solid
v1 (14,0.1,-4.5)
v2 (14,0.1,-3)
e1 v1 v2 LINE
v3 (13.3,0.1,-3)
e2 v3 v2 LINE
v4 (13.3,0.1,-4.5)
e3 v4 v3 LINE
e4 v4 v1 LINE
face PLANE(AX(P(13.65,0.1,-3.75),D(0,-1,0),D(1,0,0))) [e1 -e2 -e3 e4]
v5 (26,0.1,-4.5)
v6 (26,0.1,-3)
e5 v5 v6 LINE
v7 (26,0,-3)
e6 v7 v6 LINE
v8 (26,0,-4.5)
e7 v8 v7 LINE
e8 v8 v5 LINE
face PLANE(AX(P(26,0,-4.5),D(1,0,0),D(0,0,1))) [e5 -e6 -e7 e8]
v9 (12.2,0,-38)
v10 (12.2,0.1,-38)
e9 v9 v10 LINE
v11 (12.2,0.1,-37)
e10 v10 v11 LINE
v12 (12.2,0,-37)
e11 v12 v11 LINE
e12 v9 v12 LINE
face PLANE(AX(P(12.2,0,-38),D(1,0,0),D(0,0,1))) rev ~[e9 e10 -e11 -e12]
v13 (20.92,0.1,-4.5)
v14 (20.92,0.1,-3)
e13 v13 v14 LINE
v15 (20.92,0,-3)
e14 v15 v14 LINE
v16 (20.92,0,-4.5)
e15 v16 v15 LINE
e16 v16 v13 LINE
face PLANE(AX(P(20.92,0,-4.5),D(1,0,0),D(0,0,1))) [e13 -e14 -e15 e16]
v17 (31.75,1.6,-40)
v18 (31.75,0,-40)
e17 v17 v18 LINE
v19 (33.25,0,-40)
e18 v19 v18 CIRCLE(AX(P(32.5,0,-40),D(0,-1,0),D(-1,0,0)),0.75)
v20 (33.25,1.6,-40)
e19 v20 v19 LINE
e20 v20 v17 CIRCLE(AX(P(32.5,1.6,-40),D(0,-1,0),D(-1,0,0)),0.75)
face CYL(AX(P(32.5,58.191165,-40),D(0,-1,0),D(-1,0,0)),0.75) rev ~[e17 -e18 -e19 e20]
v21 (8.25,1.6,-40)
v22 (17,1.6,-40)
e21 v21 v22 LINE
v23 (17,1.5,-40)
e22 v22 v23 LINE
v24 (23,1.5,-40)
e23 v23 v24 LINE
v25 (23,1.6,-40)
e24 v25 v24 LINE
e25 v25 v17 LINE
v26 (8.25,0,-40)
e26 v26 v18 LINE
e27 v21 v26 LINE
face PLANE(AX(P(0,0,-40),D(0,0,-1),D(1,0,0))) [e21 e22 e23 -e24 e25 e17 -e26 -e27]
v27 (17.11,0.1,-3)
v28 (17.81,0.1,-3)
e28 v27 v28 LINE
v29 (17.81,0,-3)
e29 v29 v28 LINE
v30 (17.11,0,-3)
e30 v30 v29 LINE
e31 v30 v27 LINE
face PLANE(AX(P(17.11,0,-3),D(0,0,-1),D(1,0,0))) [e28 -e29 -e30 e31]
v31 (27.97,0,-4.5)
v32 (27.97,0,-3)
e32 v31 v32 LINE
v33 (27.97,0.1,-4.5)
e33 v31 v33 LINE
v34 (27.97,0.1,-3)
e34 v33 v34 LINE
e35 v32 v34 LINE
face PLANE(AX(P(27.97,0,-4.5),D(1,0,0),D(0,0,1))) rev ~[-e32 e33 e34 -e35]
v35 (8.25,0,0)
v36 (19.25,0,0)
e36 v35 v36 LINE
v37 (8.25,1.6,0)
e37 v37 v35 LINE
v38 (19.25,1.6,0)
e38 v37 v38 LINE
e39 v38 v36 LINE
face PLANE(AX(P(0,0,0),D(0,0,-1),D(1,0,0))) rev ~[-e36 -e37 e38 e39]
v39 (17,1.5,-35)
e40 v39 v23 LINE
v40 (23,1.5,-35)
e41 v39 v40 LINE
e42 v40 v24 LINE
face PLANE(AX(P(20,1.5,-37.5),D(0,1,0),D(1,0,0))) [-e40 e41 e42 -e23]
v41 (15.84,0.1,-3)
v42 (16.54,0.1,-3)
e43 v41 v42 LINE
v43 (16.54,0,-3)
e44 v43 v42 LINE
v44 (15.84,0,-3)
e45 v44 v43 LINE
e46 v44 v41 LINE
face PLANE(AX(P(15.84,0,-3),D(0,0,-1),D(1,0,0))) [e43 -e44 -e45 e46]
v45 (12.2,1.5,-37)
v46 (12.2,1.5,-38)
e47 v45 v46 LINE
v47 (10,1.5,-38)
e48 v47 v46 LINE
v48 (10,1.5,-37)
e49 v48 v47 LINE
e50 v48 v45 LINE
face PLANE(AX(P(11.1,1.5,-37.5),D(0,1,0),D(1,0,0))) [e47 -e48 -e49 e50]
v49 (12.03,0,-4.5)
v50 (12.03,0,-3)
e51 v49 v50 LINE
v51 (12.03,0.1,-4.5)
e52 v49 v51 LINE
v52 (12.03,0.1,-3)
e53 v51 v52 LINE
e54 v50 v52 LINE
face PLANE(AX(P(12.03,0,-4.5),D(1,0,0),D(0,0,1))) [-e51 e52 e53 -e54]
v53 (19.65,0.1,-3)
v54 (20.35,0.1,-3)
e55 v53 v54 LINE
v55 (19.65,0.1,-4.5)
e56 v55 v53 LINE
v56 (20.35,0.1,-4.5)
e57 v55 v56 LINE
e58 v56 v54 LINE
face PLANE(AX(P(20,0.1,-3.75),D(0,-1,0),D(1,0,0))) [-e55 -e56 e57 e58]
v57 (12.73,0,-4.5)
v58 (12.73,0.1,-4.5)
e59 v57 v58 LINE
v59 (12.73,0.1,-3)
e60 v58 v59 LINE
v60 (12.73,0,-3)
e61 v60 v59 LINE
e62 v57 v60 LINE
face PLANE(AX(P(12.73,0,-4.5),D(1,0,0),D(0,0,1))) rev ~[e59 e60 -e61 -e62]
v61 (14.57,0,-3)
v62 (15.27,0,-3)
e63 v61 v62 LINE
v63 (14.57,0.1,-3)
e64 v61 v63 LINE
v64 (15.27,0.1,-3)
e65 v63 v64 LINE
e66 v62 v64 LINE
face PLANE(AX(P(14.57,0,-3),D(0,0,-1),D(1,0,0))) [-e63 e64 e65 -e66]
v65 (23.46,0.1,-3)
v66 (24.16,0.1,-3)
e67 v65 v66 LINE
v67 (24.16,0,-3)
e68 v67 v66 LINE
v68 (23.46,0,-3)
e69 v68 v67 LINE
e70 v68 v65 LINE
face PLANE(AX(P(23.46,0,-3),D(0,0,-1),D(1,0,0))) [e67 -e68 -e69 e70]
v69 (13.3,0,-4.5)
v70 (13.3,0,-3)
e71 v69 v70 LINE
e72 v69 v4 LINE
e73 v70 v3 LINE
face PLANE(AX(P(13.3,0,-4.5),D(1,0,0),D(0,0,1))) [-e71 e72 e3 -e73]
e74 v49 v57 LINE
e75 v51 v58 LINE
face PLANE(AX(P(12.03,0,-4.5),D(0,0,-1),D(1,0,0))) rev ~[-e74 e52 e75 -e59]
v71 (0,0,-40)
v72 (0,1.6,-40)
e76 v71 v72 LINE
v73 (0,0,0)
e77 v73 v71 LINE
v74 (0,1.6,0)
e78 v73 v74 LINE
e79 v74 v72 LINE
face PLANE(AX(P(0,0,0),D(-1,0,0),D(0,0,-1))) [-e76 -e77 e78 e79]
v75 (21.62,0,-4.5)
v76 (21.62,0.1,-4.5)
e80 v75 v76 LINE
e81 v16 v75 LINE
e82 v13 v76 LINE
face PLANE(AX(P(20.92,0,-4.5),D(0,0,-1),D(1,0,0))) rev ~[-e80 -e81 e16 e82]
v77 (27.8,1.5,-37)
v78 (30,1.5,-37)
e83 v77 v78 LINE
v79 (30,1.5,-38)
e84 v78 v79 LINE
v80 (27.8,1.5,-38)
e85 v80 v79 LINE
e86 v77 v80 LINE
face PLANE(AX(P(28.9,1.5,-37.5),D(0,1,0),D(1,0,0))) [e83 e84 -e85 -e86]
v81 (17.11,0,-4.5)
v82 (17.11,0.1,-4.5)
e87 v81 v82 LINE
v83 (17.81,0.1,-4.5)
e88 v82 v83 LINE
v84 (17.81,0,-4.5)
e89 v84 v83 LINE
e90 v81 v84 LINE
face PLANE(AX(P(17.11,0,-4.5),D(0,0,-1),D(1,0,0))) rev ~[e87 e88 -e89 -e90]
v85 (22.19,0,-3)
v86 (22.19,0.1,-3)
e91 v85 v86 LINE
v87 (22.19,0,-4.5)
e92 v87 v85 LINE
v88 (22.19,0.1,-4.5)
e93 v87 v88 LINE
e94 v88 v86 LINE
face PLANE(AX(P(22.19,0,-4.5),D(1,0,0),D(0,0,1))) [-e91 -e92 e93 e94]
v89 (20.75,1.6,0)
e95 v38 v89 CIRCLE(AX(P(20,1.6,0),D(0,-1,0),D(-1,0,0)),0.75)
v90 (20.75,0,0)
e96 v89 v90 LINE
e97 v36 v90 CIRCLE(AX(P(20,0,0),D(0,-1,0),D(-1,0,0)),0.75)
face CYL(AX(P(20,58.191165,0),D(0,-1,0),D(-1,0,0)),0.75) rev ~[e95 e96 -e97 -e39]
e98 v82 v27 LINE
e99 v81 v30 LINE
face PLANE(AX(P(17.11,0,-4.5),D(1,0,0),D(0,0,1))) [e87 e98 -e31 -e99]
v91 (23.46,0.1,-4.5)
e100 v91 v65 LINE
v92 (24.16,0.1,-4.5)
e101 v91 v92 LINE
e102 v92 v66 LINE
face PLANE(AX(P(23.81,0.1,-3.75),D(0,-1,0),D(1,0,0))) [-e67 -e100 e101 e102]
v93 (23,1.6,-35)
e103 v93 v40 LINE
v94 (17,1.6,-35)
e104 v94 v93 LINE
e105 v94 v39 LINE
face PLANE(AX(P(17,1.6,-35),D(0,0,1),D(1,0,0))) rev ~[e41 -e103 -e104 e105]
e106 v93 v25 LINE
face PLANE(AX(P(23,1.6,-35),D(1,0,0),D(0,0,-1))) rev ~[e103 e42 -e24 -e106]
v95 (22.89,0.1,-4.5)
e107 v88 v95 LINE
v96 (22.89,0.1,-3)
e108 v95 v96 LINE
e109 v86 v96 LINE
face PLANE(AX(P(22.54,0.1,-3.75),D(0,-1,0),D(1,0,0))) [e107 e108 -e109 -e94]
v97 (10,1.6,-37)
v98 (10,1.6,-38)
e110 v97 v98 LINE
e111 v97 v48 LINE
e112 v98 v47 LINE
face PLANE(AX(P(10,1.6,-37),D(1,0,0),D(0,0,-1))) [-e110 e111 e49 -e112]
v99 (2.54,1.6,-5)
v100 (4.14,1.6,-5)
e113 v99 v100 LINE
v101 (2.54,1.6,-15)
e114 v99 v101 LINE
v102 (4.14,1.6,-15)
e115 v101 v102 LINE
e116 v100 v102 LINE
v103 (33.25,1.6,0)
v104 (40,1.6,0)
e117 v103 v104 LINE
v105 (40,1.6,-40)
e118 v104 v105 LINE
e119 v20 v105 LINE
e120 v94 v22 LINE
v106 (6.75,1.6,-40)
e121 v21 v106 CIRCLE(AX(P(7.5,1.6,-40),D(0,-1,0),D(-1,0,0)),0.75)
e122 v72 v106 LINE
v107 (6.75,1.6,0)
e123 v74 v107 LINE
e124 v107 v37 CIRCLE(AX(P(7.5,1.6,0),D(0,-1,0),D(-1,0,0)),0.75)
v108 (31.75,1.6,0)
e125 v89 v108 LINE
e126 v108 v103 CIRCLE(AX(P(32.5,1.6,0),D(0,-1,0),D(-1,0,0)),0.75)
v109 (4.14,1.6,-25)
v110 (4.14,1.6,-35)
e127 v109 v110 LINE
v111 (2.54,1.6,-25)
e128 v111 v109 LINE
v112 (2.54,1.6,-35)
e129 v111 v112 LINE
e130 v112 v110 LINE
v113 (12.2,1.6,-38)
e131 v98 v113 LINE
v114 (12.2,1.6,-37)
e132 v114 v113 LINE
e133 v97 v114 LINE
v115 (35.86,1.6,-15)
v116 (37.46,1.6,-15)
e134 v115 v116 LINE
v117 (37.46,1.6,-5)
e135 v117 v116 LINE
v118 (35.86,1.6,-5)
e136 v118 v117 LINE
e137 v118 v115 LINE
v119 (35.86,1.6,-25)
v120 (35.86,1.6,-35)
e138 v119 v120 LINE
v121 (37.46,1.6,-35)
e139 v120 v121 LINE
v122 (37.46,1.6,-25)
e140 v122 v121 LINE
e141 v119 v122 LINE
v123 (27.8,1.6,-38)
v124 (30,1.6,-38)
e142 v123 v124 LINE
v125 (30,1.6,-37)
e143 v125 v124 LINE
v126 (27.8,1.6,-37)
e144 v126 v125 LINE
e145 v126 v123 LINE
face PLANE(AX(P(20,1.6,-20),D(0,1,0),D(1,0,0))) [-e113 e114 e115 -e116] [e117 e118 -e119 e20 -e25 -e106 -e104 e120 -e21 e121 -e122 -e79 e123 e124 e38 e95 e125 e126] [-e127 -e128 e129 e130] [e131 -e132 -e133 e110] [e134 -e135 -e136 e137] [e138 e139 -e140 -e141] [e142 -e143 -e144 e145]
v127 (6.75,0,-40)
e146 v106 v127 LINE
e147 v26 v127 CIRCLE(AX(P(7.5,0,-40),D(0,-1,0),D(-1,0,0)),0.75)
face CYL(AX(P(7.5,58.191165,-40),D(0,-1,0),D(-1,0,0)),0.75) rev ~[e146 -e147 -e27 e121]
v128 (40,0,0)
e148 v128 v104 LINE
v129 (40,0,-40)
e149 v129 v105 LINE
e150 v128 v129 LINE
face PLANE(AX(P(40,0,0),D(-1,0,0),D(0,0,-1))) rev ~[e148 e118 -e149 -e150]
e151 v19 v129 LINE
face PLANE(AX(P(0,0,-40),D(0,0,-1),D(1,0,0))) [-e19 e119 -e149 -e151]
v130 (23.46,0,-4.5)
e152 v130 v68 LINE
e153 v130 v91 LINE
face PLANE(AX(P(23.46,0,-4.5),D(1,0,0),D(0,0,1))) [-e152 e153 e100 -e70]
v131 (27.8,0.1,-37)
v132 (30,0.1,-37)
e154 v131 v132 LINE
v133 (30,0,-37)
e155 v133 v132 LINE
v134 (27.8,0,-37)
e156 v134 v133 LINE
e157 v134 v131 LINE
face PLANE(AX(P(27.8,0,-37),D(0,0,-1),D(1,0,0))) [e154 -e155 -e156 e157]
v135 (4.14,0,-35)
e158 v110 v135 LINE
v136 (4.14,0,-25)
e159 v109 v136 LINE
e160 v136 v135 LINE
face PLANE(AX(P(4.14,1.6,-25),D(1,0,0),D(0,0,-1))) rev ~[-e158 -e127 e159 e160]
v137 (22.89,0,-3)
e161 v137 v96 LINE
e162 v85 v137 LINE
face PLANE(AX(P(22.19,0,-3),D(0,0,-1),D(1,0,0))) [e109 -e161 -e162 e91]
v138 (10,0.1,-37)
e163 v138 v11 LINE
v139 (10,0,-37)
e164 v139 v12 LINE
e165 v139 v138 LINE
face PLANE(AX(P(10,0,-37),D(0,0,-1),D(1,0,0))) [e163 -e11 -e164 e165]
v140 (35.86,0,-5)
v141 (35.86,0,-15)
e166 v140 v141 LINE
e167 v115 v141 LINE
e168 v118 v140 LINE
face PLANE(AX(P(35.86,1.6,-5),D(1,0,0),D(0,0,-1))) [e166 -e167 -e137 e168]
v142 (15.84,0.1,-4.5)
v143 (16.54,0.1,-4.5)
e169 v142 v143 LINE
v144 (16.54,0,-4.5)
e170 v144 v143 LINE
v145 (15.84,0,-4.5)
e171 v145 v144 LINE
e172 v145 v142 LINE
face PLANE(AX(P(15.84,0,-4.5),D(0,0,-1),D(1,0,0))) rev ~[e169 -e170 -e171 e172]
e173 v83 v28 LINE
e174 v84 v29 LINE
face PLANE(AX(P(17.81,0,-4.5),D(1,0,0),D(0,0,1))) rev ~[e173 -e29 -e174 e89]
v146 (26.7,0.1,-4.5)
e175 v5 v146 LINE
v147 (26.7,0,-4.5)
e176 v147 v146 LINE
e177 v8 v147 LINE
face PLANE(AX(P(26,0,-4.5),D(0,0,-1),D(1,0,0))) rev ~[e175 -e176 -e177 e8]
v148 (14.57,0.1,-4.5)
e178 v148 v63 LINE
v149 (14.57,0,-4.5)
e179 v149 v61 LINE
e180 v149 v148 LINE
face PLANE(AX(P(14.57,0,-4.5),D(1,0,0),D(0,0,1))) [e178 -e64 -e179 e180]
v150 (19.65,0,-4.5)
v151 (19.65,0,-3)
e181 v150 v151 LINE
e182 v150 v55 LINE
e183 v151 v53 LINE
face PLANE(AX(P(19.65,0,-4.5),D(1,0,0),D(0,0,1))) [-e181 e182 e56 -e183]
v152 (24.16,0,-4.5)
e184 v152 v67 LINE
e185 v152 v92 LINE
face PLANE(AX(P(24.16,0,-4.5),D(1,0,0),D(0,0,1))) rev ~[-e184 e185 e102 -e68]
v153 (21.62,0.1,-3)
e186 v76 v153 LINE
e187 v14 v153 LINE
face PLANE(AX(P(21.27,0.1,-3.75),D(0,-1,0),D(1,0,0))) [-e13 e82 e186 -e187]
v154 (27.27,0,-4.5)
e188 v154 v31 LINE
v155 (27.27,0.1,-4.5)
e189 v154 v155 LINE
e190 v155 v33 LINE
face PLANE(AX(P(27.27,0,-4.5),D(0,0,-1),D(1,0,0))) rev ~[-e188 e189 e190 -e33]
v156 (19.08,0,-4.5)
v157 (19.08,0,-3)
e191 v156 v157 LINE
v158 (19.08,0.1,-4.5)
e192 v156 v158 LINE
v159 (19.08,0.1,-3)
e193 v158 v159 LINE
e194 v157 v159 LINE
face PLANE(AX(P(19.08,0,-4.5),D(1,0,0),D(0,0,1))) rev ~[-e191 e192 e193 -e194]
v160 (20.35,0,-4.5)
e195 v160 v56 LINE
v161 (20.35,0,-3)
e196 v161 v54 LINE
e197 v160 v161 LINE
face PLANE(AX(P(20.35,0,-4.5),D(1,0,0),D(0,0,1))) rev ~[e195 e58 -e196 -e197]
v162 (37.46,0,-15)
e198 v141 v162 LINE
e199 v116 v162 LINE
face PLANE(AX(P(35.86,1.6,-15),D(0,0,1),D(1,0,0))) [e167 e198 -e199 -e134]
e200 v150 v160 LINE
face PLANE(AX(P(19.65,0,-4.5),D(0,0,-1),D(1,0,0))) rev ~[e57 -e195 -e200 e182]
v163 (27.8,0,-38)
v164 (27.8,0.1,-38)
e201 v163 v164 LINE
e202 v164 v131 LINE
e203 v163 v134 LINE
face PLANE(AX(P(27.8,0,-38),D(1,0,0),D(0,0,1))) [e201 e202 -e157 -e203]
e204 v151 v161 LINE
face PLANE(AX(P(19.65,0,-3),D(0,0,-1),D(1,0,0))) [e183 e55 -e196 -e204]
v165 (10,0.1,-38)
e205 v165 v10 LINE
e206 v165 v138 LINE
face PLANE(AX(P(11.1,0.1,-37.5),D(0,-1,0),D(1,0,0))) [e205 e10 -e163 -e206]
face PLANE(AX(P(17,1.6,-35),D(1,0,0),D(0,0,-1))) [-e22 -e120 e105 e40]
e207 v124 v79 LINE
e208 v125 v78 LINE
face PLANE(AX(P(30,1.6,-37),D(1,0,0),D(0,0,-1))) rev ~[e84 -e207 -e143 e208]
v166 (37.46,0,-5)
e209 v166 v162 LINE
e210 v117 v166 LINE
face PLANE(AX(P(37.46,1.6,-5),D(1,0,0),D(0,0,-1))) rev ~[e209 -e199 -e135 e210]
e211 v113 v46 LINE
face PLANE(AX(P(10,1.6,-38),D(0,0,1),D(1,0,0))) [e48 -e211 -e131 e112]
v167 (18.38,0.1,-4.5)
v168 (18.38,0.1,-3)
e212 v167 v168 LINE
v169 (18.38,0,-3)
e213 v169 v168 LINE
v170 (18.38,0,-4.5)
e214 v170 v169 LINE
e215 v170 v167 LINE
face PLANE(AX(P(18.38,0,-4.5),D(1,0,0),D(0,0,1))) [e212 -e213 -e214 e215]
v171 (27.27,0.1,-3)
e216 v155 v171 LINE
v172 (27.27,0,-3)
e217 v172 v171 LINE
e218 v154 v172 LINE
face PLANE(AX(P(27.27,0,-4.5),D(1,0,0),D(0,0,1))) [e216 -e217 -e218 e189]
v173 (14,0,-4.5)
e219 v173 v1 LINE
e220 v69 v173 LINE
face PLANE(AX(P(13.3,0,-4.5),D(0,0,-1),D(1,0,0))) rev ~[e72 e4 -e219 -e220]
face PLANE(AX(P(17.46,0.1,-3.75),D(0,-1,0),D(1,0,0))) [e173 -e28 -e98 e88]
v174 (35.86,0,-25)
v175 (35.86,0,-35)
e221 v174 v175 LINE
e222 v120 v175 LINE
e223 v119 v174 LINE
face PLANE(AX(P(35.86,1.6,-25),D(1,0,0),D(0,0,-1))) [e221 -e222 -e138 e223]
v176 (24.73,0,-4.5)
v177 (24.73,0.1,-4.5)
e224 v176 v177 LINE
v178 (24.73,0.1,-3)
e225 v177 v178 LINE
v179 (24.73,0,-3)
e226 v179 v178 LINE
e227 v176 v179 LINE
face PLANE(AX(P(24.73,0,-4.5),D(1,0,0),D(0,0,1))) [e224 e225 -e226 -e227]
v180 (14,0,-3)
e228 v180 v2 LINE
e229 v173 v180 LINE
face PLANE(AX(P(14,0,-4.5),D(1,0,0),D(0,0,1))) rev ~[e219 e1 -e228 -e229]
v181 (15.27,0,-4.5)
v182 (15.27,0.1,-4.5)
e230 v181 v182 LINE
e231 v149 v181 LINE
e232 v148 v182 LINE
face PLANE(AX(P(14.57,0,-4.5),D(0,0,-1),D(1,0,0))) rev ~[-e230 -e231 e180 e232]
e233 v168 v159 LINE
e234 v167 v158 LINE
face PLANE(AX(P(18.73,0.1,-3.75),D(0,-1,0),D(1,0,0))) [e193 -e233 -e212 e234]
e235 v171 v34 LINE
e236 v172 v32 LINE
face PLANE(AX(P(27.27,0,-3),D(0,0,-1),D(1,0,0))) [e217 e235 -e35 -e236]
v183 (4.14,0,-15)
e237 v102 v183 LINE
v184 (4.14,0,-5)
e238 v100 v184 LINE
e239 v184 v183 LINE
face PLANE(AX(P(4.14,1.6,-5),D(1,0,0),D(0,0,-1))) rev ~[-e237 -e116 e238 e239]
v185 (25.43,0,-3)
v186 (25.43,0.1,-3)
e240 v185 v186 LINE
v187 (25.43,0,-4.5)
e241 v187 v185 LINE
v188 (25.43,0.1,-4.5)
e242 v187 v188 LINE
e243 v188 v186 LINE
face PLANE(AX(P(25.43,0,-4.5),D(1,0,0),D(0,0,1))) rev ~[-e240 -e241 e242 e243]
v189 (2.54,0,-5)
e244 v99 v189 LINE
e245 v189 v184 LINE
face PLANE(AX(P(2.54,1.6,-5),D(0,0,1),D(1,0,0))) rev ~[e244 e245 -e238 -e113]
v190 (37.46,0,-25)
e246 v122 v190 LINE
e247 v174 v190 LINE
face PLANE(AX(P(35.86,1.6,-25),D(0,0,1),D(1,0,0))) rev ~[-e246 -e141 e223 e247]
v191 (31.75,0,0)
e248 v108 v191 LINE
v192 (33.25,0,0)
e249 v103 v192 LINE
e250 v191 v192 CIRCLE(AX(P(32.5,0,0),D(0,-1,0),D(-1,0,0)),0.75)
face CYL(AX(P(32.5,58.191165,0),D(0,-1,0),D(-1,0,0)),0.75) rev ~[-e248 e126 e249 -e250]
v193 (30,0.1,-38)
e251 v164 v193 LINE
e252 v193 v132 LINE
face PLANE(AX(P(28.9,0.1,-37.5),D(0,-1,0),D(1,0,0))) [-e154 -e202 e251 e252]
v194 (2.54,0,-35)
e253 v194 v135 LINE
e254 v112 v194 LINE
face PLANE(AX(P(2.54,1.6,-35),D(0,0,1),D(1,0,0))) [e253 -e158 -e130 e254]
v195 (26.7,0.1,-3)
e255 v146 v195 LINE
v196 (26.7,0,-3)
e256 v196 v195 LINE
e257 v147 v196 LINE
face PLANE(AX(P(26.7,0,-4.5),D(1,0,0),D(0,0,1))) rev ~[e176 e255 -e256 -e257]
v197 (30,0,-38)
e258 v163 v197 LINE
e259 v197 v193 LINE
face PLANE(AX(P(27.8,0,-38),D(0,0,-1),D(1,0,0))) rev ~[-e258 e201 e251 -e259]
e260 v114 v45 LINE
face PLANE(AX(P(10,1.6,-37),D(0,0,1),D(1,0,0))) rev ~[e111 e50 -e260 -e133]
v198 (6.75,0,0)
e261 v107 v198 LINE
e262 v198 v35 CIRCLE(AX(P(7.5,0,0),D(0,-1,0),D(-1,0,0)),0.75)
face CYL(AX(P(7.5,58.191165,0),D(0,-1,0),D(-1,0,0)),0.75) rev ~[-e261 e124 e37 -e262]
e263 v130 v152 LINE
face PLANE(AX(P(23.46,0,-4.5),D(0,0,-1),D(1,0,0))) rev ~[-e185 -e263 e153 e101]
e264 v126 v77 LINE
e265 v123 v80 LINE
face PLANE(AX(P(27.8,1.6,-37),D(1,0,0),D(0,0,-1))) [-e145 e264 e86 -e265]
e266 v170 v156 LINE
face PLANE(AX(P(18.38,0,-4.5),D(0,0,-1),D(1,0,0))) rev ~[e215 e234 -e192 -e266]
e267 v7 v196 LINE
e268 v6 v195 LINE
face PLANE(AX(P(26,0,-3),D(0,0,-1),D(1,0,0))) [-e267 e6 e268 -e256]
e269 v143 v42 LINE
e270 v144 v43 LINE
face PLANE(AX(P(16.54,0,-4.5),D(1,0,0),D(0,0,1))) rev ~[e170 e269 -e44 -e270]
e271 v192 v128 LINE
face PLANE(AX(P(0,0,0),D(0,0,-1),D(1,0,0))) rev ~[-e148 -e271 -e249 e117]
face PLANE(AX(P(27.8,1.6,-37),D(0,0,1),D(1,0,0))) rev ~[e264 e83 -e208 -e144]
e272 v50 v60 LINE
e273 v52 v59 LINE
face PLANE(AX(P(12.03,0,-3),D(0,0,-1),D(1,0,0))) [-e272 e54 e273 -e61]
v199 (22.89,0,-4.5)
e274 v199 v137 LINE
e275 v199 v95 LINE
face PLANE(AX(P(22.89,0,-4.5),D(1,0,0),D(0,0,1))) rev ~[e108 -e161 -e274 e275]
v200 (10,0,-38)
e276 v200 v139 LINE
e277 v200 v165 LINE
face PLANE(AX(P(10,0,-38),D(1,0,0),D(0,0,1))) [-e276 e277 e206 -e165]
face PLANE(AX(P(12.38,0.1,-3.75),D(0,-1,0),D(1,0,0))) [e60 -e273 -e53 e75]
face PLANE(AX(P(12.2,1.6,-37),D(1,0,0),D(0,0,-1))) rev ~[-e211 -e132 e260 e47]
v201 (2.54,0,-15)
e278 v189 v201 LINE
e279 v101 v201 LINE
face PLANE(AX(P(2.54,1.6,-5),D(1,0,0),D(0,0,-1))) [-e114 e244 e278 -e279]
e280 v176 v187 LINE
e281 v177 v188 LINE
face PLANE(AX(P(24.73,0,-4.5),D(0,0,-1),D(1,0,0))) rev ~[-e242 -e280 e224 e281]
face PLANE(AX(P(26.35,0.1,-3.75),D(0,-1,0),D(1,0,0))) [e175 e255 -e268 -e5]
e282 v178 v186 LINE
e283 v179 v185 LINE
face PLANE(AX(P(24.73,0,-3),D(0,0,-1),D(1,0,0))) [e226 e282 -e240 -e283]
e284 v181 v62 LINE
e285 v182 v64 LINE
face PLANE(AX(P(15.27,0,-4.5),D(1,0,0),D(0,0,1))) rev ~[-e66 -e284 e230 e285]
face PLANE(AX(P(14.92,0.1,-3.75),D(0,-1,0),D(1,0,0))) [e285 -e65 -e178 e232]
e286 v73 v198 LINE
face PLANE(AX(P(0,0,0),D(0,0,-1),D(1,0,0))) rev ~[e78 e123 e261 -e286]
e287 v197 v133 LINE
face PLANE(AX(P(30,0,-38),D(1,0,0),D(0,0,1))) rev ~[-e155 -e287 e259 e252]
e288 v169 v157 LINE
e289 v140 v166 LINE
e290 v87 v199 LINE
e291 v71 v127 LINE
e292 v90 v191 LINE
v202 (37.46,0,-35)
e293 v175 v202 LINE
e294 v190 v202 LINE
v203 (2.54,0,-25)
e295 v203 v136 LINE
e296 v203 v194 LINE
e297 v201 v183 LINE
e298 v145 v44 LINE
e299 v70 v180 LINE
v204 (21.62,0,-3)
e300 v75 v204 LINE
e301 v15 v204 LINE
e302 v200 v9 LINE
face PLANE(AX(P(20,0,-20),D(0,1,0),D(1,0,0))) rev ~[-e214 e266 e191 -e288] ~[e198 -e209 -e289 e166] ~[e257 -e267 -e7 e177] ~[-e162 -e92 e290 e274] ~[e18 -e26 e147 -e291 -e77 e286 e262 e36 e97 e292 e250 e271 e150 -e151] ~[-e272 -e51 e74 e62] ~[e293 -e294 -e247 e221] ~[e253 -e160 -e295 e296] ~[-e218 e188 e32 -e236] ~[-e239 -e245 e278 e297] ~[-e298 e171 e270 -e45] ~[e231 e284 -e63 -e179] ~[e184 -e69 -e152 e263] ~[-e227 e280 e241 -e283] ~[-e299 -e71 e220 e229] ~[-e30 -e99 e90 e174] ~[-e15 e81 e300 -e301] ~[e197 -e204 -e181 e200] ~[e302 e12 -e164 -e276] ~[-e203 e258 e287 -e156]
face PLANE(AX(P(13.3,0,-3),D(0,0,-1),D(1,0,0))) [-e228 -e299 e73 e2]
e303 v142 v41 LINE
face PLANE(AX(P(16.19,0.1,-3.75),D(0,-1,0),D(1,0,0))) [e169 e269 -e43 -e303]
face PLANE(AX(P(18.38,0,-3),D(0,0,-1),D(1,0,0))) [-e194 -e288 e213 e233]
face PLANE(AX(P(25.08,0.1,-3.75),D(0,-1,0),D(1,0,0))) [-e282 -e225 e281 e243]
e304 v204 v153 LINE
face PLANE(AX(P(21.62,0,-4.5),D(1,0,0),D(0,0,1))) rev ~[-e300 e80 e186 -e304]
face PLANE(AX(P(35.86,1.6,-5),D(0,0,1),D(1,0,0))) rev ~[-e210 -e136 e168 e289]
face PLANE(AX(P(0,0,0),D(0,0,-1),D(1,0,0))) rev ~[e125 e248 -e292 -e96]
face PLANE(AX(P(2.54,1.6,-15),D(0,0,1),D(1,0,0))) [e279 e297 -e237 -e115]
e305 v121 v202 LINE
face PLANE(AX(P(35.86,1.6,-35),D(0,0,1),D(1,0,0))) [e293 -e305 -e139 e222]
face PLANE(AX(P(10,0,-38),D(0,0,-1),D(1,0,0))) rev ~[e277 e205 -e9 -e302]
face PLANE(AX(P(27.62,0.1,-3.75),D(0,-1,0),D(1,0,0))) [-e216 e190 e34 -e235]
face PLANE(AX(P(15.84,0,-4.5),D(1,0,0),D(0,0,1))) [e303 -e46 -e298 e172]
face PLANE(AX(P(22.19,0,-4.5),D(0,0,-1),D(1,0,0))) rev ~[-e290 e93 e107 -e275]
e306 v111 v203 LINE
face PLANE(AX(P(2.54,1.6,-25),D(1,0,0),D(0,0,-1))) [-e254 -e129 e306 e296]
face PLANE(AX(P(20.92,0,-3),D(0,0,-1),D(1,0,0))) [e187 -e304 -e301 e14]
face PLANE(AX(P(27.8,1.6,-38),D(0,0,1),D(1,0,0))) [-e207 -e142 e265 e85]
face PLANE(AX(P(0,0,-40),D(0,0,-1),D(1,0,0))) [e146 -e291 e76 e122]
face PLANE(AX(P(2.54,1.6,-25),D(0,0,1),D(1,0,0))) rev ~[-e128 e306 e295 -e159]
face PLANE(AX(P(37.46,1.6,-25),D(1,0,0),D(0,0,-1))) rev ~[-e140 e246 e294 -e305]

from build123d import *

# Parameters (mm, degrees)
SKETCH_1_W              = 40
SKETCH_1_H              = 40
EXTRUDE_1_DEPTH         = 1.6
HOLE_WIZARD_1_5_1_5_1_D = 1.5
SKETCH_8_W              = 1.6
SKETCH_8_H              = 10
CUT_EXTRUDE_2_DEPTH     = 57.591165388
SKETCH_9_W              = 2.2
SKETCH_9_H              = 1
SKETCH_9_W_2            = 6
SKETCH_9_H_2            = 5
CUT_EXTRUDE_3_DEPTH     = 0.1
SKETCH_10_W             = 2.2
SKETCH_10_H             = 1
CUT_EXTRUDE_4_DEPTH     = 0.1
SKETCH_11_W             = 0.7
SKETCH_11_H             = 1.5
CUT_EXTRUDE_5_DEPTH     = 0.1


with BuildPart() as part:
    # 스케치1 → 보스-돌출1 (new body)
    with BuildSketch(Plane(origin=(0, 0, 0), x_dir=(1, 0, 0), z_dir=(0, 1, 0))):
        with Locations((20, 20)):
            Rectangle(SKETCH_1_W, SKETCH_1_H)
    extrude(amount=EXTRUDE_1_DEPTH)

    # Ø1.5 (1.5) 지름 구멍1 (through all)
    with Locations(Plane(origin=(0, 1.6, 0), x_dir=(1, 0, 0), z_dir=(0, 1, 0))):
        with Locations((7.5, 0), (7.5, 40), (20, 0), (32.5, 0), (32.5, 40)):
            Hole(HOLE_WIZARD_1_5_1_5_1_D / 2)

    # 스케치8 → 컷-돌출2 (cut, through all)
    with BuildSketch(Plane(origin=(0, 1.6, 0), x_dir=(1, 0, 0), z_dir=(0, 1, 0))):
        with Locations((3.34, 10)):
            Rectangle(SKETCH_8_W, SKETCH_8_H)
        with Locations((3.34, 30)):
            Rectangle(SKETCH_8_W, SKETCH_8_H)
        with Locations((36.66, 10)):
            Rectangle(SKETCH_8_W, SKETCH_8_H)
        with Locations((36.66, 30)):
            Rectangle(SKETCH_8_W, SKETCH_8_H)
    extrude(amount=-CUT_EXTRUDE_2_DEPTH, mode=Mode.SUBTRACT)

    # 스케치9 → 컷-돌출3 (cut)
    with BuildSketch(Plane(origin=(0, 1.6, 0), x_dir=(1, 0, 0), z_dir=(0, 1, 0))):
        with Locations((11.1, 37.5)):
            Rectangle(SKETCH_9_W, SKETCH_9_H)
        with Locations((28.9, 37.5)):
            Rectangle(SKETCH_9_W, SKETCH_9_H)
        with Locations((20, 37.5)):
            Rectangle(SKETCH_9_W_2, SKETCH_9_H_2)
    extrude(amount=-CUT_EXTRUDE_3_DEPTH, mode=Mode.SUBTRACT)

    # 스케치10 → 컷-돌출4 (cut)
    with BuildSketch(Plane.XZ):
        with Locations((11.1, -37.5)):
            Rectangle(SKETCH_10_W, SKETCH_10_H)
        with Locations((28.9, -37.5)):
            Rectangle(SKETCH_10_W, SKETCH_10_H)
    extrude(amount=-CUT_EXTRUDE_4_DEPTH, mode=Mode.SUBTRACT)

    # 스케치11 → 컷-돌출5 (cut)
    with BuildSketch(Plane.XZ):
        with Locations((12.38, -3.75)):
            Rectangle(SKETCH_11_W, SKETCH_11_H)
        with Locations((13.65, -3.75)):
            Rectangle(SKETCH_11_W, SKETCH_11_H)
        with Locations((14.92, -3.75)):
            Rectangle(SKETCH_11_W, SKETCH_11_H)
        with Locations((16.19, -3.75)):
            Rectangle(SKETCH_11_W, SKETCH_11_H)
        with Locations((17.46, -3.75)):
            Rectangle(SKETCH_11_W, SKETCH_11_H)
        with Locations((18.73, -3.75)):
            Rectangle(SKETCH_11_W, SKETCH_11_H)
        with Locations((20, -3.75)):
            Rectangle(SKETCH_11_W, SKETCH_11_H)
        with Locations((21.27, -3.75)):
            Rectangle(SKETCH_11_W, SKETCH_11_H)
        with Locations((22.54, -3.75)):
            Rectangle(SKETCH_11_W, SKETCH_11_H)
        with Locations((23.81, -3.75)):
            Rectangle(SKETCH_11_W, SKETCH_11_H)
        with Locations((25.08, -3.75)):
            Rectangle(SKETCH_11_W, SKETCH_11_H)
        with Locations((26.35, -3.75)):
            Rectangle(SKETCH_11_W, SKETCH_11_H)
        with Locations((27.62, -3.75)):
            Rectangle(SKETCH_11_W, SKETCH_11_H)
    extrude(amount=-CUT_EXTRUDE_5_DEPTH, mode=Mode.SUBTRACT)


solid = part.part
